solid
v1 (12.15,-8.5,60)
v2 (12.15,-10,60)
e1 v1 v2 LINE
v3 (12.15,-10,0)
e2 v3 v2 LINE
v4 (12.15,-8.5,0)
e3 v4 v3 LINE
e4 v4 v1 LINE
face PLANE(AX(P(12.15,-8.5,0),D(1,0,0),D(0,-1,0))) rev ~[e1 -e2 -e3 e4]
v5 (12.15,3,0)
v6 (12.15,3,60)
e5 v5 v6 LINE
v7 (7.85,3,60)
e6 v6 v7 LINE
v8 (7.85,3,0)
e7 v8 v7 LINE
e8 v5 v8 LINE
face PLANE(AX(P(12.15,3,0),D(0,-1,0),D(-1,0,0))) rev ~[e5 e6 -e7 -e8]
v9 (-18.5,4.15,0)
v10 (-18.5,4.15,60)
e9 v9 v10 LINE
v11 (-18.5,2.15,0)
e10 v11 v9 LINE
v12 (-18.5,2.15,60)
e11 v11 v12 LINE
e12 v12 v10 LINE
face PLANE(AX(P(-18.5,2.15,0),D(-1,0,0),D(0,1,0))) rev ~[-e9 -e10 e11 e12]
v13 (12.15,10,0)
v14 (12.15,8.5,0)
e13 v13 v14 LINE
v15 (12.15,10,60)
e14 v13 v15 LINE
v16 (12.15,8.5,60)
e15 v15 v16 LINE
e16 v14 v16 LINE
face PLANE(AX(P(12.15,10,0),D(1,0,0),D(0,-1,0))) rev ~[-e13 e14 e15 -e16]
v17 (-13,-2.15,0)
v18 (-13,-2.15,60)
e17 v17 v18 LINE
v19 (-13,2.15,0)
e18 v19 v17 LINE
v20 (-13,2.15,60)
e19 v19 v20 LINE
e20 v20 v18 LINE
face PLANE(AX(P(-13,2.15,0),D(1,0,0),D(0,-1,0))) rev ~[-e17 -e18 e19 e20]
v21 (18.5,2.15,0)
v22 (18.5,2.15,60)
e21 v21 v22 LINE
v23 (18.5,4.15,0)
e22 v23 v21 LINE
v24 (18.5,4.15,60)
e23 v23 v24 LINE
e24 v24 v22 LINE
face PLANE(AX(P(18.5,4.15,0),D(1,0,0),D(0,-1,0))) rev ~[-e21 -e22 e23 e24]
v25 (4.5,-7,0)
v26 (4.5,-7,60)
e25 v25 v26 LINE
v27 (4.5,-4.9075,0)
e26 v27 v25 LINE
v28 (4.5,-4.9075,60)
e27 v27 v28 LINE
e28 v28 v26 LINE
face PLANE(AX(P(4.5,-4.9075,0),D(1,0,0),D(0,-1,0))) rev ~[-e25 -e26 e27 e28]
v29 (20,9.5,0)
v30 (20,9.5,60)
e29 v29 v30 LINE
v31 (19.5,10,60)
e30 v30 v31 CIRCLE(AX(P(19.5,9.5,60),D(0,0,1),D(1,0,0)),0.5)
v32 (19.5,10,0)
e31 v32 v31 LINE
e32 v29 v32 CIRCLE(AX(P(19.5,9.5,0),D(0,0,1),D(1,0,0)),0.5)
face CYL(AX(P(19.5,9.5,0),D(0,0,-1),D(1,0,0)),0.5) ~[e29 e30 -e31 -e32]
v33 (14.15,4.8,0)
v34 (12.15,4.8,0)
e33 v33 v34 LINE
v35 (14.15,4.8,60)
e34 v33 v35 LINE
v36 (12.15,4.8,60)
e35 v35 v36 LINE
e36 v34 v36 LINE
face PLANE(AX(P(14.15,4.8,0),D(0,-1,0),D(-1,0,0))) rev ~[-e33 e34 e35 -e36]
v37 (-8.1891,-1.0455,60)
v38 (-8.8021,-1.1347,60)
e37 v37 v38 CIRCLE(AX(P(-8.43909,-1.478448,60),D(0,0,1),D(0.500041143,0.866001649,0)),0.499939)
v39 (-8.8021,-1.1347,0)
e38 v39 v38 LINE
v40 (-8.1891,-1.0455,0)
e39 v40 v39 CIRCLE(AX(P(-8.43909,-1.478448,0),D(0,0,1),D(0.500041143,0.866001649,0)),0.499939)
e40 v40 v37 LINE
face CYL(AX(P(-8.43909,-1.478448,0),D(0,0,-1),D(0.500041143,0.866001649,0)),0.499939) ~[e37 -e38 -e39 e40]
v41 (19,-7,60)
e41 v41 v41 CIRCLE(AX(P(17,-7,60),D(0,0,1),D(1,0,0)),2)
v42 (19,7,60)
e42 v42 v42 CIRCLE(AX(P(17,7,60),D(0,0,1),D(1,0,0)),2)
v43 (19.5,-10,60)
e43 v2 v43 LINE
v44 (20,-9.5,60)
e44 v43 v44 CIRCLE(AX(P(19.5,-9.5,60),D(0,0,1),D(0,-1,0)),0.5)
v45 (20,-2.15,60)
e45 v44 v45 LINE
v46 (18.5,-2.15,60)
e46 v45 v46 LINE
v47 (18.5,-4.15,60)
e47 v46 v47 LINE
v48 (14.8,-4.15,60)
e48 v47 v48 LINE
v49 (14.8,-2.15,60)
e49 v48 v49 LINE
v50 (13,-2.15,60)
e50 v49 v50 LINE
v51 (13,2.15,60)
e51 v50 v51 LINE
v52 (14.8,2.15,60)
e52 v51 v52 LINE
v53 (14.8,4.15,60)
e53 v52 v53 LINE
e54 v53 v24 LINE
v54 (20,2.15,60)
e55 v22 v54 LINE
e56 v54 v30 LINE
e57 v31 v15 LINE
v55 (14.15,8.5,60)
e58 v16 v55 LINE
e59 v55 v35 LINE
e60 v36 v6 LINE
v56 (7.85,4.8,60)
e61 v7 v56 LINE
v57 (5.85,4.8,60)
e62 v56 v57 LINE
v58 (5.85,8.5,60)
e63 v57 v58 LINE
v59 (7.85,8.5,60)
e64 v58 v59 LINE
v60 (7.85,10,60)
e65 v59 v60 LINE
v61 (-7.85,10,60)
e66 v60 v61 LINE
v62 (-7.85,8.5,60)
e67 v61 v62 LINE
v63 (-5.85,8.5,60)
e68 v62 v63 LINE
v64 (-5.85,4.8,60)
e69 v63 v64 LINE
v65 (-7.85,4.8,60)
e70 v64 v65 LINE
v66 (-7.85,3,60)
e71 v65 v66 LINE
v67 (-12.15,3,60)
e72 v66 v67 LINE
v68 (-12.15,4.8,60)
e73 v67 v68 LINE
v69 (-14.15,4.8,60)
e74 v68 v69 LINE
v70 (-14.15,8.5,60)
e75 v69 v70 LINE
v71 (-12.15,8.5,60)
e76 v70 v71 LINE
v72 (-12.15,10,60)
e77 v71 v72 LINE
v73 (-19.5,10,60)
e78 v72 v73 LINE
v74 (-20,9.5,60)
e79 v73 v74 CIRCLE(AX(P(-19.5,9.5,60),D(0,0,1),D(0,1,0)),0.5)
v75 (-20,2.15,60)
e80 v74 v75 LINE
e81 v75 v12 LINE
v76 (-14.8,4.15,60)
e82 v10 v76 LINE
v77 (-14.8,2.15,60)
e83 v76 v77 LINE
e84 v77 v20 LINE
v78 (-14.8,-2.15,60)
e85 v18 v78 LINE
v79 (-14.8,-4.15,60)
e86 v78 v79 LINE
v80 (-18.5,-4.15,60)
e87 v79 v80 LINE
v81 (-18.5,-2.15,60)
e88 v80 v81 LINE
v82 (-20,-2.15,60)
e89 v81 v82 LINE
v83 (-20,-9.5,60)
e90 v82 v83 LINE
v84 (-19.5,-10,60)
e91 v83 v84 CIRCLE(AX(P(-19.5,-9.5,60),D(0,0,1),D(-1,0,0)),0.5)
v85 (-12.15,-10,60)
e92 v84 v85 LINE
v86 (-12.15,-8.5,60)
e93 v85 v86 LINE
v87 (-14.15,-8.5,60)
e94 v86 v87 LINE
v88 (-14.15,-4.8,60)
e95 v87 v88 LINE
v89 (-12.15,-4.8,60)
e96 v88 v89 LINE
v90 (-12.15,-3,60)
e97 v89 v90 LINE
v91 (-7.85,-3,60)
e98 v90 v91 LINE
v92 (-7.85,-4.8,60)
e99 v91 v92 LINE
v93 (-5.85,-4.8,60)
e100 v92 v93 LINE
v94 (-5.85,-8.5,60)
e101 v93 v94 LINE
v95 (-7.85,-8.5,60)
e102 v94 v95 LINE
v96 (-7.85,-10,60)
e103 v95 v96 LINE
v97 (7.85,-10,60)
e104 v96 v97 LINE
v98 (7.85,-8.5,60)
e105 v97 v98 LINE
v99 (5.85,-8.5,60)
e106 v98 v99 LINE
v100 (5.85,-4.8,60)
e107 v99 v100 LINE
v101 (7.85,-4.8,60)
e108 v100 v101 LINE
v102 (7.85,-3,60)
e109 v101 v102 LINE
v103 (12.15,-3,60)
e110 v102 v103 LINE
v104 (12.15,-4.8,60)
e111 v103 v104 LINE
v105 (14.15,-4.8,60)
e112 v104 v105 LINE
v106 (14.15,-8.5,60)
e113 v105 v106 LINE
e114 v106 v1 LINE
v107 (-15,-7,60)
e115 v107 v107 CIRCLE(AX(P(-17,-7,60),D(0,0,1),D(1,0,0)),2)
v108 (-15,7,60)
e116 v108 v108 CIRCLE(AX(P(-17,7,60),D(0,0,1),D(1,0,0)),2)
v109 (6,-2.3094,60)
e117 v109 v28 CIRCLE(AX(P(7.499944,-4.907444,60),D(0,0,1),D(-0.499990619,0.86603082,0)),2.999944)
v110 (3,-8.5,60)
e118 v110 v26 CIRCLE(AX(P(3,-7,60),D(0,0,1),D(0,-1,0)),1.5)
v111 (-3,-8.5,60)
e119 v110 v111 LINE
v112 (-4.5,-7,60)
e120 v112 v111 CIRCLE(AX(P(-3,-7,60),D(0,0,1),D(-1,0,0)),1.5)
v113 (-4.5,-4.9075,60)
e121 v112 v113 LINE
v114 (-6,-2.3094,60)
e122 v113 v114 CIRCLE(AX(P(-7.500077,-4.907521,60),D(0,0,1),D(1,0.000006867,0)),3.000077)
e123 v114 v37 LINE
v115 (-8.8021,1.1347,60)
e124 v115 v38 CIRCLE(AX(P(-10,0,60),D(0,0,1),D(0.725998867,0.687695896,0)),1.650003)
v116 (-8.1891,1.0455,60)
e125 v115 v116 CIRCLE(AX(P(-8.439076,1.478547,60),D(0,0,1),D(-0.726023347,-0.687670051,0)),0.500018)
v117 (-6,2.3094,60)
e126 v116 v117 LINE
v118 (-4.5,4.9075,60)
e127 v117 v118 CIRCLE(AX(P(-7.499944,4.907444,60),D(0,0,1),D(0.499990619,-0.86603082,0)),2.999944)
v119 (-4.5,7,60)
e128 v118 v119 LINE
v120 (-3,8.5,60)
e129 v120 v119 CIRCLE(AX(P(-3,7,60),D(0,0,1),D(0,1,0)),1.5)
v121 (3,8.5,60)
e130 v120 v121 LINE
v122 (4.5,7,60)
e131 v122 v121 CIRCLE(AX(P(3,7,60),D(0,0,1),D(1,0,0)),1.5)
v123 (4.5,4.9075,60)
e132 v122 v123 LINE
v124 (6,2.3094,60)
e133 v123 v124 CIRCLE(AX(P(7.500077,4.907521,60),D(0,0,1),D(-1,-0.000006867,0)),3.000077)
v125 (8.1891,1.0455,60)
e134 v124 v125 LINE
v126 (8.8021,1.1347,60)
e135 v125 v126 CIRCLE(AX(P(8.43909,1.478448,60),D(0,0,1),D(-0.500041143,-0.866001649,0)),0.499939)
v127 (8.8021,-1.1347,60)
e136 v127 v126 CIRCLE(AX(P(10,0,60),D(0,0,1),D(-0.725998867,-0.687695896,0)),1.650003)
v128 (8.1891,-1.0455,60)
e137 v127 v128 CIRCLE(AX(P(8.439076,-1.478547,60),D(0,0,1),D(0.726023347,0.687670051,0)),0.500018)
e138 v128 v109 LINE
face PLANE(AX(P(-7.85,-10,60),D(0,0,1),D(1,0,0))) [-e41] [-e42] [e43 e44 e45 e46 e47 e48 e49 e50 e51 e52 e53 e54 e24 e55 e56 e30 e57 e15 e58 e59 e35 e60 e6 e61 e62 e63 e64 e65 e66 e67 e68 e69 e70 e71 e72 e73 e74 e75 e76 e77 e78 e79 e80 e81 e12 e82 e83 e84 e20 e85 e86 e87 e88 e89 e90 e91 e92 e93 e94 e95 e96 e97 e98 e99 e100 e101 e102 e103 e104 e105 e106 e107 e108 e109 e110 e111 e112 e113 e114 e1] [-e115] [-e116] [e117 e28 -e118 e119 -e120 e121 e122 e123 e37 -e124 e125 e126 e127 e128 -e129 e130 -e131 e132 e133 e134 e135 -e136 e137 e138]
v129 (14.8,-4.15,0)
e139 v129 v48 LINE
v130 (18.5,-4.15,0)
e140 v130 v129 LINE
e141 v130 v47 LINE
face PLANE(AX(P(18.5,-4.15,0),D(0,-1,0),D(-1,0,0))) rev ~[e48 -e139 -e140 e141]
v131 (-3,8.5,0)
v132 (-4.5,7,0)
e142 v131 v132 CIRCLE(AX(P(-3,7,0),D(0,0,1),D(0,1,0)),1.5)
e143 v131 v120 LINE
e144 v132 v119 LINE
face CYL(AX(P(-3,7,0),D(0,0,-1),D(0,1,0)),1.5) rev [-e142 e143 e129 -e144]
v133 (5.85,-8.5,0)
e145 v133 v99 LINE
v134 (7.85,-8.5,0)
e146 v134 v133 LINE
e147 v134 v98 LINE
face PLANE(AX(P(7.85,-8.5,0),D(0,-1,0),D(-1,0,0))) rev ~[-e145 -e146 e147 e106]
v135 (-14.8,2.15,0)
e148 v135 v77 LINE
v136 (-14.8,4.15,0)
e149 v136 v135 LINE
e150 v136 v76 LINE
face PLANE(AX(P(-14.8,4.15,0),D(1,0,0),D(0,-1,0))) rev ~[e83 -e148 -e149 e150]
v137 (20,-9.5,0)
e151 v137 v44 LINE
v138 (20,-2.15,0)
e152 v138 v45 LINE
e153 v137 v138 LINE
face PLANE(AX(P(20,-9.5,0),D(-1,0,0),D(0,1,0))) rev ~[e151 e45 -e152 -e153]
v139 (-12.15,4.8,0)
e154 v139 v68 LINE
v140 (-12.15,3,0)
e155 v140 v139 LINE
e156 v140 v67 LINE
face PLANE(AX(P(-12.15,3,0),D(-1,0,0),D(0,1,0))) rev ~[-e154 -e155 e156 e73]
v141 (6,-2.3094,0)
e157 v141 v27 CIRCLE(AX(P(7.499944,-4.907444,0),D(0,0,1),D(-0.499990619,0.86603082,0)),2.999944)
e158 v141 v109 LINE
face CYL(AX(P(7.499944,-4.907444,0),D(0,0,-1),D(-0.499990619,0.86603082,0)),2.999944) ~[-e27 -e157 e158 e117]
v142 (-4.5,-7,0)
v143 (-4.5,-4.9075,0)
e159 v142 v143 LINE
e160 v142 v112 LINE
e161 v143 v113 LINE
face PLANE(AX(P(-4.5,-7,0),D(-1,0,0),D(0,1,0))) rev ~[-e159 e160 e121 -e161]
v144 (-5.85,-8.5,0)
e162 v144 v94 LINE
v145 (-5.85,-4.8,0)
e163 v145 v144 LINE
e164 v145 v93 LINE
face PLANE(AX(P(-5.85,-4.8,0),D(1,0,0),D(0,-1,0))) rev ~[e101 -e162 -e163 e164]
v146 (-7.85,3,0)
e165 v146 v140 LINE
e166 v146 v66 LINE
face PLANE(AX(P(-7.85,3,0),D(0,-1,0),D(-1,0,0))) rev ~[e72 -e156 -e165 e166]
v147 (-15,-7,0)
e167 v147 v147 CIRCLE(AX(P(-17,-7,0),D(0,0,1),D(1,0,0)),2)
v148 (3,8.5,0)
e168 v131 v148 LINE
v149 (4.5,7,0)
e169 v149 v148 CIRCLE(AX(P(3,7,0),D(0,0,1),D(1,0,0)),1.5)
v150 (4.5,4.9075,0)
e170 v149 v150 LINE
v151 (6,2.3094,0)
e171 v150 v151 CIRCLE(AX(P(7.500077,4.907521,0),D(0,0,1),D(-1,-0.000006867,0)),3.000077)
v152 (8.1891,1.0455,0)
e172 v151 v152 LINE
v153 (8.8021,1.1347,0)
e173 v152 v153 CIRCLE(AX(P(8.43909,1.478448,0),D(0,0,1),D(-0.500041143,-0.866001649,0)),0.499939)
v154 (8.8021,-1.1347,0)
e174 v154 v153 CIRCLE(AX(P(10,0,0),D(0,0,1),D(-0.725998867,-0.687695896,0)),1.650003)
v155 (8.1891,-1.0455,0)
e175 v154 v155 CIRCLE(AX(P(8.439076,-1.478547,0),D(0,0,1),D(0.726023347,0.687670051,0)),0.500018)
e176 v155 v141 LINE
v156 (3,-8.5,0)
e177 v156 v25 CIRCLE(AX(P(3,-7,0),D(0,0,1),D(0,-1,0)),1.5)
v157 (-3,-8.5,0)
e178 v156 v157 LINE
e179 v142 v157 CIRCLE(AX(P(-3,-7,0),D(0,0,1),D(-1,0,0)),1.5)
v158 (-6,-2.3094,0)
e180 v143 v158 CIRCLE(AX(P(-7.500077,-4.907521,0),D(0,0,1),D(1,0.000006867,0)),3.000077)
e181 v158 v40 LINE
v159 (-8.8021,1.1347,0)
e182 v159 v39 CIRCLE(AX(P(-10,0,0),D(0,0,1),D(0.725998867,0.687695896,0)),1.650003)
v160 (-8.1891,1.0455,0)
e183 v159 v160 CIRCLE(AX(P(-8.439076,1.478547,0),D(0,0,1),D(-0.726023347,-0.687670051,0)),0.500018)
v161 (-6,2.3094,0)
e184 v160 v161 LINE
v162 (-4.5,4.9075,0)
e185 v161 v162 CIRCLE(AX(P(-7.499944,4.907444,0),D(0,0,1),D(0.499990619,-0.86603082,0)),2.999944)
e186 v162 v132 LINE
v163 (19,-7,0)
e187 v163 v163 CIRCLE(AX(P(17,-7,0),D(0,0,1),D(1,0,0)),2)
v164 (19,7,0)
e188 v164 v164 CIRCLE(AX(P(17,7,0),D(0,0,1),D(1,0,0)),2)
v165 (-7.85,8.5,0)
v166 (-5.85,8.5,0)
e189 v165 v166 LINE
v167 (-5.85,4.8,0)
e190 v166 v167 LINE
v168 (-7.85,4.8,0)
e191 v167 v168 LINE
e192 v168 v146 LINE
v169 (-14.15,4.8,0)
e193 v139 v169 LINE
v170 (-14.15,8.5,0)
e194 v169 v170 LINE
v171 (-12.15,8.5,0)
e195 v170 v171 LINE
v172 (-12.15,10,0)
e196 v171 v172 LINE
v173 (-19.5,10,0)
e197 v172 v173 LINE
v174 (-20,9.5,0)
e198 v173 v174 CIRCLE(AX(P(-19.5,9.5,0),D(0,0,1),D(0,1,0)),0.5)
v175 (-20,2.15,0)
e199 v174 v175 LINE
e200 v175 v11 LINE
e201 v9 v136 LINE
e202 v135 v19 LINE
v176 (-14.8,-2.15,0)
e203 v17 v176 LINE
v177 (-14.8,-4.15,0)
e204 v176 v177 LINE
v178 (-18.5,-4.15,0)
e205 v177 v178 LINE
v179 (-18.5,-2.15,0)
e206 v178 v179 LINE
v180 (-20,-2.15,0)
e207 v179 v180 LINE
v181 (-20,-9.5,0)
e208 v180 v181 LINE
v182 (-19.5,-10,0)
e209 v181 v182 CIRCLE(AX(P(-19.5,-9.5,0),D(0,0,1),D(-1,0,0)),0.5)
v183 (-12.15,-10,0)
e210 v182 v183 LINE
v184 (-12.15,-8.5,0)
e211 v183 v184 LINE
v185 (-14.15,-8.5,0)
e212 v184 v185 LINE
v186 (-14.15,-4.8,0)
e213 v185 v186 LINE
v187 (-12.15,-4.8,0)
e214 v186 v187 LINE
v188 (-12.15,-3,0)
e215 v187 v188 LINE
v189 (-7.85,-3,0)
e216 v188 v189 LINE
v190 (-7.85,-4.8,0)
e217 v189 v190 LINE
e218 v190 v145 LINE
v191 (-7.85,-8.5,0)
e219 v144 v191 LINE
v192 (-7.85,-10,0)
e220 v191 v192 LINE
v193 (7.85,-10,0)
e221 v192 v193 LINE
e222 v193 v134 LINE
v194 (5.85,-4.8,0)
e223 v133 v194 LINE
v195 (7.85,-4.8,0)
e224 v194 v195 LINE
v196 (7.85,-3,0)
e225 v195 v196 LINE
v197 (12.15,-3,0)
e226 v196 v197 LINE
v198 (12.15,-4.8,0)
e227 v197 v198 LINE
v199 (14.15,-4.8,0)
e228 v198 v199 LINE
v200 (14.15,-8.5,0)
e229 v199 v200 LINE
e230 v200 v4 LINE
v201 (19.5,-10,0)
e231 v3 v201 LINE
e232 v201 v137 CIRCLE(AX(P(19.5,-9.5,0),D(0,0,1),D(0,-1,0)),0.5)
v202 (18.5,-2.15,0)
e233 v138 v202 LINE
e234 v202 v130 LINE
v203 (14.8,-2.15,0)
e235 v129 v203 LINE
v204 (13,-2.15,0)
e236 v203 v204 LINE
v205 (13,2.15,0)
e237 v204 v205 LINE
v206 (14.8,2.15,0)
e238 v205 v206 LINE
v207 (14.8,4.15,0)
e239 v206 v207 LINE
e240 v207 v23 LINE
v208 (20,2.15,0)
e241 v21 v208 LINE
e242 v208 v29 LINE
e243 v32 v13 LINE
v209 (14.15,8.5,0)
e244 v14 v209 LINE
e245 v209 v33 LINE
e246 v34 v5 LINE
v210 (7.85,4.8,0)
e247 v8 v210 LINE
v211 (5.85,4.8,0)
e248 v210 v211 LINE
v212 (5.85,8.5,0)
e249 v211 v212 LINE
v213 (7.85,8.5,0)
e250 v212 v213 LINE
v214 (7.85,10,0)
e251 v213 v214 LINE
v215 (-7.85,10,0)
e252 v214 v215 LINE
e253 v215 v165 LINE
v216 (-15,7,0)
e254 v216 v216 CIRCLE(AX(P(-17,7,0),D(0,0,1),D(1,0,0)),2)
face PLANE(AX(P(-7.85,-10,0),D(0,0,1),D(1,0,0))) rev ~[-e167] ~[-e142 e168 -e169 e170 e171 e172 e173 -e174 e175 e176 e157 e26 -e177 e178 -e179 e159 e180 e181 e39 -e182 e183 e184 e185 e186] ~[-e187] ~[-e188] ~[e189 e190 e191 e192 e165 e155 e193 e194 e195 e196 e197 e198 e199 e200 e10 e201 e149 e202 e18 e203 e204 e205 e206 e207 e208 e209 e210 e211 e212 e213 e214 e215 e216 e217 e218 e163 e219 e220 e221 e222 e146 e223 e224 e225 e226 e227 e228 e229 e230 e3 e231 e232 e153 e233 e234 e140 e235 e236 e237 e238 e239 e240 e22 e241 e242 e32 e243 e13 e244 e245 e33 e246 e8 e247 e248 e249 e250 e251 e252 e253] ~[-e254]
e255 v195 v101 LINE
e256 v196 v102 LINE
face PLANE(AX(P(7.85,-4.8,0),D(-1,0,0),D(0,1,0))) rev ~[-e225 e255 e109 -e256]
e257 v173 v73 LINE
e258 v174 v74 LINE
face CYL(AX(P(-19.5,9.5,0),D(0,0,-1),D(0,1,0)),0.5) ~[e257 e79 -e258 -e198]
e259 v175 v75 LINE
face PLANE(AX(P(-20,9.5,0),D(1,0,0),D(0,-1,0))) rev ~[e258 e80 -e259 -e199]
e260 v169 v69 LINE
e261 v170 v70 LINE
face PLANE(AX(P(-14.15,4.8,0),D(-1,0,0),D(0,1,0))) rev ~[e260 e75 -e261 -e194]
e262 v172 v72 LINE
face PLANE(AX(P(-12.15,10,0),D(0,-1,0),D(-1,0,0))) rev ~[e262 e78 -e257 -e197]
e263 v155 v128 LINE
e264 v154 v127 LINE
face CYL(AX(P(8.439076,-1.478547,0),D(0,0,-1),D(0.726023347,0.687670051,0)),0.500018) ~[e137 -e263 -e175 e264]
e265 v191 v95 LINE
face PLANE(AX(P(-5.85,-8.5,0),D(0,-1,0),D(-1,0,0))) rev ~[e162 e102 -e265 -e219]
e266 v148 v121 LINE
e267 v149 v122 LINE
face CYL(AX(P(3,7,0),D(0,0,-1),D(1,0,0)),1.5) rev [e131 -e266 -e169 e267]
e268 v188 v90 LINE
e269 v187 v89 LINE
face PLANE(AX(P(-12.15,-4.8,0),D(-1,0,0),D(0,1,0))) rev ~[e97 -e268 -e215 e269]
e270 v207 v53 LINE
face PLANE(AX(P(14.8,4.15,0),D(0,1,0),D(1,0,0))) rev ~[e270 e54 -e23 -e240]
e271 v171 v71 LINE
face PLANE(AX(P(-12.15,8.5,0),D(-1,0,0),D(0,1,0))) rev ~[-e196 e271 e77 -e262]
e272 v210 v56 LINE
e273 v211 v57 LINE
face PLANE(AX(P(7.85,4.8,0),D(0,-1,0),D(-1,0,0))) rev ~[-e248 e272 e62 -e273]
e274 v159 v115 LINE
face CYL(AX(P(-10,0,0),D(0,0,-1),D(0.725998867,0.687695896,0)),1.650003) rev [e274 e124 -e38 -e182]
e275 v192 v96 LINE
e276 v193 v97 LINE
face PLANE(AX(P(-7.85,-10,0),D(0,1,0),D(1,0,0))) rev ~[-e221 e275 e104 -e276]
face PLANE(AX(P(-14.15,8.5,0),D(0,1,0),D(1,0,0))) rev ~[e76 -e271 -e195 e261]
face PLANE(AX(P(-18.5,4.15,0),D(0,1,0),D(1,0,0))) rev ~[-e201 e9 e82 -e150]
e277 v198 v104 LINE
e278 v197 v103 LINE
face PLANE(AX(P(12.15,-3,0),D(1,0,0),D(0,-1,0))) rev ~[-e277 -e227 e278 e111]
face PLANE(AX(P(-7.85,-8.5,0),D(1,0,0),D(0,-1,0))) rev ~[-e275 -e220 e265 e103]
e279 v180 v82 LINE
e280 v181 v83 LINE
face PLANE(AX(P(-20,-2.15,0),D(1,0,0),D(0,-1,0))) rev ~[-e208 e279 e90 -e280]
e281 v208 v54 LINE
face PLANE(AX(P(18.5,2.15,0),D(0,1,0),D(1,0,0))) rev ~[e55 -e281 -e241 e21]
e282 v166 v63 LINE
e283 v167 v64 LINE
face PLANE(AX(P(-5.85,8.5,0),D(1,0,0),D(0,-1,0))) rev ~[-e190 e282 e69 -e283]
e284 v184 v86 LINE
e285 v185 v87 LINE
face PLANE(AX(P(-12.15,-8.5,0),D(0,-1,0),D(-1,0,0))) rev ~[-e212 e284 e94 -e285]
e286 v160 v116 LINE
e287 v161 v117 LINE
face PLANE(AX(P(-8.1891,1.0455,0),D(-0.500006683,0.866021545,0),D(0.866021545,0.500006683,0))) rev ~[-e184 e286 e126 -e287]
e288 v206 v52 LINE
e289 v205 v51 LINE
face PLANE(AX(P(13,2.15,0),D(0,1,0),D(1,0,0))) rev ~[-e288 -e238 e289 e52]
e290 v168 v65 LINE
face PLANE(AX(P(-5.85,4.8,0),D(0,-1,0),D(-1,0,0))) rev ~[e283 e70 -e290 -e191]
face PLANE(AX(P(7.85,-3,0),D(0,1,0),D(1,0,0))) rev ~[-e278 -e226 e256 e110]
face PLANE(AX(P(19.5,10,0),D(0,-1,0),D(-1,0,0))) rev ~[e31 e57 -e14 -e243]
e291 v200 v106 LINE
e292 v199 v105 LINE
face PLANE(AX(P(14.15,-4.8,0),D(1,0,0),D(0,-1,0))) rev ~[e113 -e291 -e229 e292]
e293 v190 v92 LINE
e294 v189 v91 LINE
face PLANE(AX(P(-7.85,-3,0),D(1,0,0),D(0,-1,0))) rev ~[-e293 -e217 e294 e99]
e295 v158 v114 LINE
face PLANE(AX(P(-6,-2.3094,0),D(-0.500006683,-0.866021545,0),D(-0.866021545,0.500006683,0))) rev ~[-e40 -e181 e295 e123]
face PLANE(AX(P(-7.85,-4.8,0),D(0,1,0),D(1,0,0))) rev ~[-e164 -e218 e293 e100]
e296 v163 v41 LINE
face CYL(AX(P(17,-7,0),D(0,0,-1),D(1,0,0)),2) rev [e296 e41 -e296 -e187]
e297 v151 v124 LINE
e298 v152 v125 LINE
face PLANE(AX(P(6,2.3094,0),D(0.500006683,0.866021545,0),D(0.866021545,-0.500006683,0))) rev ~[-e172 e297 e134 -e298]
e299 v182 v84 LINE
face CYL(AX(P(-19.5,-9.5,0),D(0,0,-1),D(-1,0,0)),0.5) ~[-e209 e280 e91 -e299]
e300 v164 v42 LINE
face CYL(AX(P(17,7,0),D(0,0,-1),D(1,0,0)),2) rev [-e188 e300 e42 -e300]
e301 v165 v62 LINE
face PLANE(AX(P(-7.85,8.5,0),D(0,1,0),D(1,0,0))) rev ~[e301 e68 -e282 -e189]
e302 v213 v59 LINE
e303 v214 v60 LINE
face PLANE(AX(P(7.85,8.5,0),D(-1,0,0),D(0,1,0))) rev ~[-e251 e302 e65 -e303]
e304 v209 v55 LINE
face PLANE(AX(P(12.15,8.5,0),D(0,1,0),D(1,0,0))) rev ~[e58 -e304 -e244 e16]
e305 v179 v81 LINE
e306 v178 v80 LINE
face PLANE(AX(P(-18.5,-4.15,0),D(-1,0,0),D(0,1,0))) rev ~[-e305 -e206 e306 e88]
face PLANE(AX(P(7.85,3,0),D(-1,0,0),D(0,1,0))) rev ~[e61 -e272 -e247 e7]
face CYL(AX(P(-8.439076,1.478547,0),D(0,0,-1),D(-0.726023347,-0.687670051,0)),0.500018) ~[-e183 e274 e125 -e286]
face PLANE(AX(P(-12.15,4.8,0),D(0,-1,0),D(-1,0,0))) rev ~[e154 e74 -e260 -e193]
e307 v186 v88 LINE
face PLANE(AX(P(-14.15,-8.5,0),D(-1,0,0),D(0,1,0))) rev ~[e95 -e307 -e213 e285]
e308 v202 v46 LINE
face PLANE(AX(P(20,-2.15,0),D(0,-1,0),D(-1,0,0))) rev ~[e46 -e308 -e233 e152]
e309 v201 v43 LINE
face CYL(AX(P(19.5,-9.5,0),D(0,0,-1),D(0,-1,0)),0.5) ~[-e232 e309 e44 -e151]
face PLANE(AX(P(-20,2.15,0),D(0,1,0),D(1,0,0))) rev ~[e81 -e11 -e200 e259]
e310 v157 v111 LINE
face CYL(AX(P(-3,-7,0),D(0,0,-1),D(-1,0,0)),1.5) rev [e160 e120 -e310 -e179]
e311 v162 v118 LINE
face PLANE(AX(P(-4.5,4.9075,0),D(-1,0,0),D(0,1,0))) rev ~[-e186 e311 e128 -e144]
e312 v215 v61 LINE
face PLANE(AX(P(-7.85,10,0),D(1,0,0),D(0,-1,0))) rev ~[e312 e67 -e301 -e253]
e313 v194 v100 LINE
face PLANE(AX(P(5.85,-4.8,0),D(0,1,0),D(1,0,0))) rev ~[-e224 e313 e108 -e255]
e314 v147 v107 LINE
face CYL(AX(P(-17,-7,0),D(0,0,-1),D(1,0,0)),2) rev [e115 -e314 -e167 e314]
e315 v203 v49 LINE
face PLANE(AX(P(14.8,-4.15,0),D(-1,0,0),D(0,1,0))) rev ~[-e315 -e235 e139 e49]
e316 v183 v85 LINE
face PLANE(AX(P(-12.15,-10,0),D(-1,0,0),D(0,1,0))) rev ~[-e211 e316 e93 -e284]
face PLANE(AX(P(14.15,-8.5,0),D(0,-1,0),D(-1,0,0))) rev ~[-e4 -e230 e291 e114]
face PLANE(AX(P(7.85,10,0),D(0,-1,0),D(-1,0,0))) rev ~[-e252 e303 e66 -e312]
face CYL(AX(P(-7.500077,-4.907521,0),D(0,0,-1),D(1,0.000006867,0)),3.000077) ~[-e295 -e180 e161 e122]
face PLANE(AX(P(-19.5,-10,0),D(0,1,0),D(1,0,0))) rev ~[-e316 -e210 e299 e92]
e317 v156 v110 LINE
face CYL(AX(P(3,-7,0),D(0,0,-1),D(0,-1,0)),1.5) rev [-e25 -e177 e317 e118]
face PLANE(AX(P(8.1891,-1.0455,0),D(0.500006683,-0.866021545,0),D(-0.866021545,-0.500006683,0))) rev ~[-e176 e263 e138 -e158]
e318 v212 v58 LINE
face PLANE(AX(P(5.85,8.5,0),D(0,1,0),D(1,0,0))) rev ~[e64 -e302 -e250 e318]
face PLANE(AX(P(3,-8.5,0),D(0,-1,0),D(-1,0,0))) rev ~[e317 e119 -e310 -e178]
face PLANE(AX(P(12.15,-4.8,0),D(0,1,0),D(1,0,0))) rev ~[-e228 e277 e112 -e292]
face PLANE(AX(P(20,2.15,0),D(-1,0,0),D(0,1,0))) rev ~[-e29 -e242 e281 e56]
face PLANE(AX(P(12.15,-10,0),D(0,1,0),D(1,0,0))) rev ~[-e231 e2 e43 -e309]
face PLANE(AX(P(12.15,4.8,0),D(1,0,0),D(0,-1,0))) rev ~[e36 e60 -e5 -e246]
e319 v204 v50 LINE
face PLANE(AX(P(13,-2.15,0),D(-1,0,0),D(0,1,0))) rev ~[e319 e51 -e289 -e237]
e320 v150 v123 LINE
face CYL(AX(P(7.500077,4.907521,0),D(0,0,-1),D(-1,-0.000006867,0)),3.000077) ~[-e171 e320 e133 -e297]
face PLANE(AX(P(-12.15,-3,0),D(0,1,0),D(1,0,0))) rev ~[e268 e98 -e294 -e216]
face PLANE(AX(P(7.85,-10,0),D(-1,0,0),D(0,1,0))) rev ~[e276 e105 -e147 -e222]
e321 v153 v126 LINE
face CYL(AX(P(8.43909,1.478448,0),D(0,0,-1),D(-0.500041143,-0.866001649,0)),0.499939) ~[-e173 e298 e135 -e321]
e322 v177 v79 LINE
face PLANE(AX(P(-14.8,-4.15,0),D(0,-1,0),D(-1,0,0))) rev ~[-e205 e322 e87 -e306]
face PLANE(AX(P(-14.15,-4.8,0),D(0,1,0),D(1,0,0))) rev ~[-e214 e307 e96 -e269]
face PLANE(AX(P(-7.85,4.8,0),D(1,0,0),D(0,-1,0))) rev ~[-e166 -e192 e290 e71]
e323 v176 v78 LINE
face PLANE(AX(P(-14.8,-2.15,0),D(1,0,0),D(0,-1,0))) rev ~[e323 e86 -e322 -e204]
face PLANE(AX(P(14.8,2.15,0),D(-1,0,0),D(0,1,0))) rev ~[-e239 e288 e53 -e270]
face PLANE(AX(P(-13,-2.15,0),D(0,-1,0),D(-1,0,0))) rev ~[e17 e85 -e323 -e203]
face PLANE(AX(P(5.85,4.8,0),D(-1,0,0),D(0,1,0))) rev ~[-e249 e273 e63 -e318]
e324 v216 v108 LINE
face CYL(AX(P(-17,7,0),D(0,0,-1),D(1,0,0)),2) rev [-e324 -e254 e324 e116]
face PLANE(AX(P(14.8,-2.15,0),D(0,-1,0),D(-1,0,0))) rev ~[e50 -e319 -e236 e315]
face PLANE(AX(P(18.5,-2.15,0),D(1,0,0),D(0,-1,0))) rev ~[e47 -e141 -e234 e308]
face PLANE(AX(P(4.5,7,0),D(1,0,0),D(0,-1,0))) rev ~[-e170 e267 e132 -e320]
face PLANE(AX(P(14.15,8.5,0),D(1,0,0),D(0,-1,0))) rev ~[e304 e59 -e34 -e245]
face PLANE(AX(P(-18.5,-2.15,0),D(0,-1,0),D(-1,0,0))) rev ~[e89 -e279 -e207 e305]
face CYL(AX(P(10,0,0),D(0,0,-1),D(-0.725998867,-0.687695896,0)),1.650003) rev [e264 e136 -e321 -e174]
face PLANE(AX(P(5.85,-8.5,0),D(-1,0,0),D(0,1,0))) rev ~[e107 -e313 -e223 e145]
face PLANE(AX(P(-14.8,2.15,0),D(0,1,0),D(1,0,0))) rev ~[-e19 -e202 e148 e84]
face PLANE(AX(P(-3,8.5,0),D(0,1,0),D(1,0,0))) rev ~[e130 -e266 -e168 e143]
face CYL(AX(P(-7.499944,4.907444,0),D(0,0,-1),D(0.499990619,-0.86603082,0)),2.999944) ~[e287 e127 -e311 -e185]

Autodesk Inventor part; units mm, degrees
ref_plane "YZ Plane" through (0, 0, 0) normal (1, 0, 0) x (0, 1, 0)
ref_plane "XZ Plane" through (0, 0, 0) normal (0, 1, 0) x (-1, 0, 0)
ref_plane "XY Plane" through (0, 0, 0) normal (0, 0, 1) x (1, 0, 0)
sketch "スケッチ1" plane through (-7.85, -10, 0) normal (0, 0, 1) x (1, 0, 0)
  line L0 (-6.3, 14.8) -> (-6.3, 18.5) projected
  line L1 (0, 13) -> (-4.3, 13) projected
  line L2 (-4.3, 13) -> (-4.3, 14.8) projected
  line L3 (-4.3, 14.8) -> (-6.3, 14.8) projected
  line L4 (-6.3, 14.8) -> (-6.3, 18.5) projected
  line L5 (-6.3, 18.5) -> (-4.3, 18.5) projected
  line L6 (-4.3, 18.5) -> (-4.3, 20) projected
  line L7 (-4.3, 20) -> (-11.65, 20) projected
  arc A0 (-11.65, 20) -> (-12.15, 19.5) centre (-11.65, 19.5) ccw projected
  line L8 (-12.15, 19.5) -> (-12.15, 12.15) projected
  line L9 (-12.15, 12.15) -> (-10.65, 12.15) projected
  line L10 (-10.65, 12.15) -> (-10.65, 14.15) projected
  line L11 (-10.65, 14.15) -> (-6.95, 14.15) projected
  line L12 (-6.95, 14.15) -> (-6.95, 12.15) projected
  line L13 (-6.95, 12.15) -> (-5.15, 12.15) projected
  line L14 (-5.15, 12.15) -> (-5.15, 7.85) projected
  line L15 (-5.15, 7.85) -> (-6.95, 7.85) projected
  line L16 (-6.95, 7.85) -> (-6.95, 5.85) projected
  line L17 (-6.95, 5.85) -> (-10.65, 5.85) projected
  line L18 (-10.65, 5.85) -> (-10.65, 7.85) projected
  line L19 (-10.65, 7.85) -> (-12.15, 7.85) projected
  line L20 (-12.15, 7.85) -> (-12.15, 0.5) projected
  arc A1 (-12.15, 0.5) -> (-11.65, 0) centre (-11.65, 0.5) ccw projected
  line L21 (-11.65, 0) -> (-4.3, 0) projected
  line L22 (-4.3, 0) -> (-4.3, 1.5) projected
  line L23 (-4.3, 1.5) -> (-6.3, 1.5) projected
  line L24 (-6.3, 1.5) -> (-6.3, 5.2) projected
  line L25 (-6.3, 5.2) -> (-4.3, 5.2) projected
  line L26 (-4.3, 5.2) -> (-4.3, 7) projected
  line L27 (-4.3, 7) -> (0, 7) projected
  line L28 (0, 7) -> (0, 5.2) projected
  line L29 (0, 5.2) -> (2, 5.2) projected
  line L30 (2, 5.2) -> (2, 1.5) projected
  line L31 (2, 1.5) -> (0, 1.5) projected
  line L32 (0, 1.5) -> (0, 0) projected
  line L33 (0, 0) -> (15.7, 0) projected
  line L34 (15.7, 0) -> (15.7, 1.5) projected
  line L35 (15.7, 1.5) -> (13.7, 1.5) projected
  line L36 (13.7, 1.5) -> (13.7, 5.2) projected
  line L37 (13.7, 5.2) -> (15.7, 5.2) projected
  line L38 (15.7, 5.2) -> (15.7, 7) projected
  line L39 (15.7, 7) -> (20, 7) projected
  line L40 (20, 7) -> (20, 5.2) projected
  line L41 (20, 5.2) -> (22, 5.2) projected
  line L42 (22, 5.2) -> (22, 1.5) projected
  line L43 (22, 1.5) -> (20, 1.5) projected
  line L44 (20, 1.5) -> (20, 0) projected
  line L45 (20, 0) -> (27.35, 0) projected
  arc A2 (27.35, 0) -> (27.85, 0.5) centre (27.35, 0.5) ccw projected
  line L46 (27.85, 0.5) -> (27.85, 7.85) projected
  line L47 (27.85, 7.85) -> (26.35, 7.85) projected
  line L48 (26.35, 7.85) -> (26.35, 5.85) projected
  line L49 (26.35, 5.85) -> (22.65, 5.85) projected
  line L50 (22.65, 5.85) -> (22.65, 7.85) projected
  line L51 (22.65, 7.85) -> (20.85, 7.85) projected
  line L52 (20.85, 7.85) -> (20.85, 12.15) projected
  line L53 (20.85, 12.15) -> (22.65, 12.15) projected
  line L54 (22.65, 12.15) -> (22.65, 14.15) projected
  line L55 (22.65, 14.15) -> (26.35, 14.15) projected
  line L56 (26.35, 14.15) -> (26.35, 12.15) projected
  line L57 (26.35, 12.15) -> (27.85, 12.15) projected
  line L58 (27.85, 12.15) -> (27.85, 19.5) projected
  arc A3 (27.85, 19.5) -> (27.35, 20) centre (27.35, 19.5) ccw projected
  line L59 (27.35, 20) -> (20, 20) projected
  line L60 (20, 20) -> (20, 18.5) projected
  line L61 (20, 18.5) -> (22, 18.5) projected
  line L62 (22, 18.5) -> (22, 14.8) projected
  line L63 (22, 14.8) -> (20, 14.8) projected
  line L64 (20, 14.8) -> (20, 13) projected
  line L65 (20, 13) -> (15.7, 13) projected
  line L66 (15.7, 13) -> (15.7, 14.8) projected
  line L67 (15.7, 14.8) -> (13.7, 14.8) projected
  line L68 (13.7, 14.8) -> (13.7, 18.5) projected
  line L69 (13.7, 18.5) -> (15.7, 18.5) projected
  line L70 (15.7, 18.5) -> (15.7, 20) projected
  line L71 (15.7, 20) -> (0, 20) projected
  line L72 (0, 20) -> (0, 18.5) projected
  line L73 (0, 18.5) -> (2, 18.5) projected
  line L74 (2, 18.5) -> (2, 14.8) projected
  line L75 (2, 14.8) -> (0, 14.8) projected
  line L76 (0, 14.8) -> (0, 13) projected
  line L77 (12.35, 17) -> (12.35, 14.9075) projected
  arc A4 (12.35, 14.9075) -> (13.85, 12.3094) centre (15.35, 14.9075) ccw projected
  line L78 (13.85, 12.3094) -> (16.0391, 11.0455) projected
  arc A5 (16.0391, 11.0455) -> (16.6521, 11.1347) centre (16.2891, 11.4785) ccw projected
  arc A6 (16.6521, 8.8653) -> (16.6521, 11.1347) centre (17.85, 10) ccw projected
  arc A7 (16.6521, 8.8653) -> (16.0391, 8.9545) centre (16.2891, 8.5215) ccw projected
  line L79 (16.0391, 8.9545) -> (13.85, 7.6906) projected
  arc A8 (13.85, 7.6906) -> (12.35, 5.0925) centre (15.35, 5.0925) ccw projected
  line L80 (12.35, 5.0925) -> (12.35, 3) projected
  arc A9 (10.85, 1.5) -> (12.35, 3) centre (10.85, 3) ccw projected
  line L81 (10.85, 1.5) -> (4.85, 1.5) projected
  arc A10 (3.35, 3) -> (4.85, 1.5) centre (4.85, 3) ccw projected
  line L82 (3.35, 3) -> (3.35, 5.0925) projected
  arc A11 (3.35, 5.0925) -> (1.85, 7.6906) centre (0.35, 5.0925) ccw projected
  line L83 (1.85, 7.6906) -> (-0.3391, 8.9545) projected
  arc A12 (-0.3391, 8.9545) -> (-0.9521, 8.8653) centre (-0.5891, 8.5215) ccw projected
  arc A13 (-0.9521, 11.1347) -> (-0.9521, 8.8653) centre (-2.15, 10) ccw projected
  arc A14 (-0.9521, 11.1347) -> (-0.3391, 11.0455) centre (-0.5891, 11.4785) ccw projected
  line L84 (-0.3391, 11.0455) -> (1.85, 12.3094) projected
  arc A15 (1.85, 12.3094) -> (3.35, 14.9075) centre (0.35, 14.9075) ccw projected
  line L85 (3.35, 14.9075) -> (3.35, 17) projected
  arc A16 (4.85, 18.5) -> (3.35, 17) centre (4.85, 17) ccw projected
  line L86 (4.85, 18.5) -> (10.85, 18.5) projected
  arc A17 (12.35, 17) -> (10.85, 18.5) centre (10.85, 17) ccw projected
  circle A18 centre (24.85, 3) radius 2 projected
  circle A19 centre (-9.15, 3) radius 2 projected
  circle A20 centre (-9.15, 17) radius 2 projected
  circle A21 centre (24.85, 17) radius 2 projected
  point P0 (7.85, 10)
extrude "押し出し1" add sketch "スケッチ1" along normal blind 60
equation "\"d0\" = L"
equation "\"L\" = 60"
properties part number "AFS-2040-4-60" material "アルミニウム 6061"
